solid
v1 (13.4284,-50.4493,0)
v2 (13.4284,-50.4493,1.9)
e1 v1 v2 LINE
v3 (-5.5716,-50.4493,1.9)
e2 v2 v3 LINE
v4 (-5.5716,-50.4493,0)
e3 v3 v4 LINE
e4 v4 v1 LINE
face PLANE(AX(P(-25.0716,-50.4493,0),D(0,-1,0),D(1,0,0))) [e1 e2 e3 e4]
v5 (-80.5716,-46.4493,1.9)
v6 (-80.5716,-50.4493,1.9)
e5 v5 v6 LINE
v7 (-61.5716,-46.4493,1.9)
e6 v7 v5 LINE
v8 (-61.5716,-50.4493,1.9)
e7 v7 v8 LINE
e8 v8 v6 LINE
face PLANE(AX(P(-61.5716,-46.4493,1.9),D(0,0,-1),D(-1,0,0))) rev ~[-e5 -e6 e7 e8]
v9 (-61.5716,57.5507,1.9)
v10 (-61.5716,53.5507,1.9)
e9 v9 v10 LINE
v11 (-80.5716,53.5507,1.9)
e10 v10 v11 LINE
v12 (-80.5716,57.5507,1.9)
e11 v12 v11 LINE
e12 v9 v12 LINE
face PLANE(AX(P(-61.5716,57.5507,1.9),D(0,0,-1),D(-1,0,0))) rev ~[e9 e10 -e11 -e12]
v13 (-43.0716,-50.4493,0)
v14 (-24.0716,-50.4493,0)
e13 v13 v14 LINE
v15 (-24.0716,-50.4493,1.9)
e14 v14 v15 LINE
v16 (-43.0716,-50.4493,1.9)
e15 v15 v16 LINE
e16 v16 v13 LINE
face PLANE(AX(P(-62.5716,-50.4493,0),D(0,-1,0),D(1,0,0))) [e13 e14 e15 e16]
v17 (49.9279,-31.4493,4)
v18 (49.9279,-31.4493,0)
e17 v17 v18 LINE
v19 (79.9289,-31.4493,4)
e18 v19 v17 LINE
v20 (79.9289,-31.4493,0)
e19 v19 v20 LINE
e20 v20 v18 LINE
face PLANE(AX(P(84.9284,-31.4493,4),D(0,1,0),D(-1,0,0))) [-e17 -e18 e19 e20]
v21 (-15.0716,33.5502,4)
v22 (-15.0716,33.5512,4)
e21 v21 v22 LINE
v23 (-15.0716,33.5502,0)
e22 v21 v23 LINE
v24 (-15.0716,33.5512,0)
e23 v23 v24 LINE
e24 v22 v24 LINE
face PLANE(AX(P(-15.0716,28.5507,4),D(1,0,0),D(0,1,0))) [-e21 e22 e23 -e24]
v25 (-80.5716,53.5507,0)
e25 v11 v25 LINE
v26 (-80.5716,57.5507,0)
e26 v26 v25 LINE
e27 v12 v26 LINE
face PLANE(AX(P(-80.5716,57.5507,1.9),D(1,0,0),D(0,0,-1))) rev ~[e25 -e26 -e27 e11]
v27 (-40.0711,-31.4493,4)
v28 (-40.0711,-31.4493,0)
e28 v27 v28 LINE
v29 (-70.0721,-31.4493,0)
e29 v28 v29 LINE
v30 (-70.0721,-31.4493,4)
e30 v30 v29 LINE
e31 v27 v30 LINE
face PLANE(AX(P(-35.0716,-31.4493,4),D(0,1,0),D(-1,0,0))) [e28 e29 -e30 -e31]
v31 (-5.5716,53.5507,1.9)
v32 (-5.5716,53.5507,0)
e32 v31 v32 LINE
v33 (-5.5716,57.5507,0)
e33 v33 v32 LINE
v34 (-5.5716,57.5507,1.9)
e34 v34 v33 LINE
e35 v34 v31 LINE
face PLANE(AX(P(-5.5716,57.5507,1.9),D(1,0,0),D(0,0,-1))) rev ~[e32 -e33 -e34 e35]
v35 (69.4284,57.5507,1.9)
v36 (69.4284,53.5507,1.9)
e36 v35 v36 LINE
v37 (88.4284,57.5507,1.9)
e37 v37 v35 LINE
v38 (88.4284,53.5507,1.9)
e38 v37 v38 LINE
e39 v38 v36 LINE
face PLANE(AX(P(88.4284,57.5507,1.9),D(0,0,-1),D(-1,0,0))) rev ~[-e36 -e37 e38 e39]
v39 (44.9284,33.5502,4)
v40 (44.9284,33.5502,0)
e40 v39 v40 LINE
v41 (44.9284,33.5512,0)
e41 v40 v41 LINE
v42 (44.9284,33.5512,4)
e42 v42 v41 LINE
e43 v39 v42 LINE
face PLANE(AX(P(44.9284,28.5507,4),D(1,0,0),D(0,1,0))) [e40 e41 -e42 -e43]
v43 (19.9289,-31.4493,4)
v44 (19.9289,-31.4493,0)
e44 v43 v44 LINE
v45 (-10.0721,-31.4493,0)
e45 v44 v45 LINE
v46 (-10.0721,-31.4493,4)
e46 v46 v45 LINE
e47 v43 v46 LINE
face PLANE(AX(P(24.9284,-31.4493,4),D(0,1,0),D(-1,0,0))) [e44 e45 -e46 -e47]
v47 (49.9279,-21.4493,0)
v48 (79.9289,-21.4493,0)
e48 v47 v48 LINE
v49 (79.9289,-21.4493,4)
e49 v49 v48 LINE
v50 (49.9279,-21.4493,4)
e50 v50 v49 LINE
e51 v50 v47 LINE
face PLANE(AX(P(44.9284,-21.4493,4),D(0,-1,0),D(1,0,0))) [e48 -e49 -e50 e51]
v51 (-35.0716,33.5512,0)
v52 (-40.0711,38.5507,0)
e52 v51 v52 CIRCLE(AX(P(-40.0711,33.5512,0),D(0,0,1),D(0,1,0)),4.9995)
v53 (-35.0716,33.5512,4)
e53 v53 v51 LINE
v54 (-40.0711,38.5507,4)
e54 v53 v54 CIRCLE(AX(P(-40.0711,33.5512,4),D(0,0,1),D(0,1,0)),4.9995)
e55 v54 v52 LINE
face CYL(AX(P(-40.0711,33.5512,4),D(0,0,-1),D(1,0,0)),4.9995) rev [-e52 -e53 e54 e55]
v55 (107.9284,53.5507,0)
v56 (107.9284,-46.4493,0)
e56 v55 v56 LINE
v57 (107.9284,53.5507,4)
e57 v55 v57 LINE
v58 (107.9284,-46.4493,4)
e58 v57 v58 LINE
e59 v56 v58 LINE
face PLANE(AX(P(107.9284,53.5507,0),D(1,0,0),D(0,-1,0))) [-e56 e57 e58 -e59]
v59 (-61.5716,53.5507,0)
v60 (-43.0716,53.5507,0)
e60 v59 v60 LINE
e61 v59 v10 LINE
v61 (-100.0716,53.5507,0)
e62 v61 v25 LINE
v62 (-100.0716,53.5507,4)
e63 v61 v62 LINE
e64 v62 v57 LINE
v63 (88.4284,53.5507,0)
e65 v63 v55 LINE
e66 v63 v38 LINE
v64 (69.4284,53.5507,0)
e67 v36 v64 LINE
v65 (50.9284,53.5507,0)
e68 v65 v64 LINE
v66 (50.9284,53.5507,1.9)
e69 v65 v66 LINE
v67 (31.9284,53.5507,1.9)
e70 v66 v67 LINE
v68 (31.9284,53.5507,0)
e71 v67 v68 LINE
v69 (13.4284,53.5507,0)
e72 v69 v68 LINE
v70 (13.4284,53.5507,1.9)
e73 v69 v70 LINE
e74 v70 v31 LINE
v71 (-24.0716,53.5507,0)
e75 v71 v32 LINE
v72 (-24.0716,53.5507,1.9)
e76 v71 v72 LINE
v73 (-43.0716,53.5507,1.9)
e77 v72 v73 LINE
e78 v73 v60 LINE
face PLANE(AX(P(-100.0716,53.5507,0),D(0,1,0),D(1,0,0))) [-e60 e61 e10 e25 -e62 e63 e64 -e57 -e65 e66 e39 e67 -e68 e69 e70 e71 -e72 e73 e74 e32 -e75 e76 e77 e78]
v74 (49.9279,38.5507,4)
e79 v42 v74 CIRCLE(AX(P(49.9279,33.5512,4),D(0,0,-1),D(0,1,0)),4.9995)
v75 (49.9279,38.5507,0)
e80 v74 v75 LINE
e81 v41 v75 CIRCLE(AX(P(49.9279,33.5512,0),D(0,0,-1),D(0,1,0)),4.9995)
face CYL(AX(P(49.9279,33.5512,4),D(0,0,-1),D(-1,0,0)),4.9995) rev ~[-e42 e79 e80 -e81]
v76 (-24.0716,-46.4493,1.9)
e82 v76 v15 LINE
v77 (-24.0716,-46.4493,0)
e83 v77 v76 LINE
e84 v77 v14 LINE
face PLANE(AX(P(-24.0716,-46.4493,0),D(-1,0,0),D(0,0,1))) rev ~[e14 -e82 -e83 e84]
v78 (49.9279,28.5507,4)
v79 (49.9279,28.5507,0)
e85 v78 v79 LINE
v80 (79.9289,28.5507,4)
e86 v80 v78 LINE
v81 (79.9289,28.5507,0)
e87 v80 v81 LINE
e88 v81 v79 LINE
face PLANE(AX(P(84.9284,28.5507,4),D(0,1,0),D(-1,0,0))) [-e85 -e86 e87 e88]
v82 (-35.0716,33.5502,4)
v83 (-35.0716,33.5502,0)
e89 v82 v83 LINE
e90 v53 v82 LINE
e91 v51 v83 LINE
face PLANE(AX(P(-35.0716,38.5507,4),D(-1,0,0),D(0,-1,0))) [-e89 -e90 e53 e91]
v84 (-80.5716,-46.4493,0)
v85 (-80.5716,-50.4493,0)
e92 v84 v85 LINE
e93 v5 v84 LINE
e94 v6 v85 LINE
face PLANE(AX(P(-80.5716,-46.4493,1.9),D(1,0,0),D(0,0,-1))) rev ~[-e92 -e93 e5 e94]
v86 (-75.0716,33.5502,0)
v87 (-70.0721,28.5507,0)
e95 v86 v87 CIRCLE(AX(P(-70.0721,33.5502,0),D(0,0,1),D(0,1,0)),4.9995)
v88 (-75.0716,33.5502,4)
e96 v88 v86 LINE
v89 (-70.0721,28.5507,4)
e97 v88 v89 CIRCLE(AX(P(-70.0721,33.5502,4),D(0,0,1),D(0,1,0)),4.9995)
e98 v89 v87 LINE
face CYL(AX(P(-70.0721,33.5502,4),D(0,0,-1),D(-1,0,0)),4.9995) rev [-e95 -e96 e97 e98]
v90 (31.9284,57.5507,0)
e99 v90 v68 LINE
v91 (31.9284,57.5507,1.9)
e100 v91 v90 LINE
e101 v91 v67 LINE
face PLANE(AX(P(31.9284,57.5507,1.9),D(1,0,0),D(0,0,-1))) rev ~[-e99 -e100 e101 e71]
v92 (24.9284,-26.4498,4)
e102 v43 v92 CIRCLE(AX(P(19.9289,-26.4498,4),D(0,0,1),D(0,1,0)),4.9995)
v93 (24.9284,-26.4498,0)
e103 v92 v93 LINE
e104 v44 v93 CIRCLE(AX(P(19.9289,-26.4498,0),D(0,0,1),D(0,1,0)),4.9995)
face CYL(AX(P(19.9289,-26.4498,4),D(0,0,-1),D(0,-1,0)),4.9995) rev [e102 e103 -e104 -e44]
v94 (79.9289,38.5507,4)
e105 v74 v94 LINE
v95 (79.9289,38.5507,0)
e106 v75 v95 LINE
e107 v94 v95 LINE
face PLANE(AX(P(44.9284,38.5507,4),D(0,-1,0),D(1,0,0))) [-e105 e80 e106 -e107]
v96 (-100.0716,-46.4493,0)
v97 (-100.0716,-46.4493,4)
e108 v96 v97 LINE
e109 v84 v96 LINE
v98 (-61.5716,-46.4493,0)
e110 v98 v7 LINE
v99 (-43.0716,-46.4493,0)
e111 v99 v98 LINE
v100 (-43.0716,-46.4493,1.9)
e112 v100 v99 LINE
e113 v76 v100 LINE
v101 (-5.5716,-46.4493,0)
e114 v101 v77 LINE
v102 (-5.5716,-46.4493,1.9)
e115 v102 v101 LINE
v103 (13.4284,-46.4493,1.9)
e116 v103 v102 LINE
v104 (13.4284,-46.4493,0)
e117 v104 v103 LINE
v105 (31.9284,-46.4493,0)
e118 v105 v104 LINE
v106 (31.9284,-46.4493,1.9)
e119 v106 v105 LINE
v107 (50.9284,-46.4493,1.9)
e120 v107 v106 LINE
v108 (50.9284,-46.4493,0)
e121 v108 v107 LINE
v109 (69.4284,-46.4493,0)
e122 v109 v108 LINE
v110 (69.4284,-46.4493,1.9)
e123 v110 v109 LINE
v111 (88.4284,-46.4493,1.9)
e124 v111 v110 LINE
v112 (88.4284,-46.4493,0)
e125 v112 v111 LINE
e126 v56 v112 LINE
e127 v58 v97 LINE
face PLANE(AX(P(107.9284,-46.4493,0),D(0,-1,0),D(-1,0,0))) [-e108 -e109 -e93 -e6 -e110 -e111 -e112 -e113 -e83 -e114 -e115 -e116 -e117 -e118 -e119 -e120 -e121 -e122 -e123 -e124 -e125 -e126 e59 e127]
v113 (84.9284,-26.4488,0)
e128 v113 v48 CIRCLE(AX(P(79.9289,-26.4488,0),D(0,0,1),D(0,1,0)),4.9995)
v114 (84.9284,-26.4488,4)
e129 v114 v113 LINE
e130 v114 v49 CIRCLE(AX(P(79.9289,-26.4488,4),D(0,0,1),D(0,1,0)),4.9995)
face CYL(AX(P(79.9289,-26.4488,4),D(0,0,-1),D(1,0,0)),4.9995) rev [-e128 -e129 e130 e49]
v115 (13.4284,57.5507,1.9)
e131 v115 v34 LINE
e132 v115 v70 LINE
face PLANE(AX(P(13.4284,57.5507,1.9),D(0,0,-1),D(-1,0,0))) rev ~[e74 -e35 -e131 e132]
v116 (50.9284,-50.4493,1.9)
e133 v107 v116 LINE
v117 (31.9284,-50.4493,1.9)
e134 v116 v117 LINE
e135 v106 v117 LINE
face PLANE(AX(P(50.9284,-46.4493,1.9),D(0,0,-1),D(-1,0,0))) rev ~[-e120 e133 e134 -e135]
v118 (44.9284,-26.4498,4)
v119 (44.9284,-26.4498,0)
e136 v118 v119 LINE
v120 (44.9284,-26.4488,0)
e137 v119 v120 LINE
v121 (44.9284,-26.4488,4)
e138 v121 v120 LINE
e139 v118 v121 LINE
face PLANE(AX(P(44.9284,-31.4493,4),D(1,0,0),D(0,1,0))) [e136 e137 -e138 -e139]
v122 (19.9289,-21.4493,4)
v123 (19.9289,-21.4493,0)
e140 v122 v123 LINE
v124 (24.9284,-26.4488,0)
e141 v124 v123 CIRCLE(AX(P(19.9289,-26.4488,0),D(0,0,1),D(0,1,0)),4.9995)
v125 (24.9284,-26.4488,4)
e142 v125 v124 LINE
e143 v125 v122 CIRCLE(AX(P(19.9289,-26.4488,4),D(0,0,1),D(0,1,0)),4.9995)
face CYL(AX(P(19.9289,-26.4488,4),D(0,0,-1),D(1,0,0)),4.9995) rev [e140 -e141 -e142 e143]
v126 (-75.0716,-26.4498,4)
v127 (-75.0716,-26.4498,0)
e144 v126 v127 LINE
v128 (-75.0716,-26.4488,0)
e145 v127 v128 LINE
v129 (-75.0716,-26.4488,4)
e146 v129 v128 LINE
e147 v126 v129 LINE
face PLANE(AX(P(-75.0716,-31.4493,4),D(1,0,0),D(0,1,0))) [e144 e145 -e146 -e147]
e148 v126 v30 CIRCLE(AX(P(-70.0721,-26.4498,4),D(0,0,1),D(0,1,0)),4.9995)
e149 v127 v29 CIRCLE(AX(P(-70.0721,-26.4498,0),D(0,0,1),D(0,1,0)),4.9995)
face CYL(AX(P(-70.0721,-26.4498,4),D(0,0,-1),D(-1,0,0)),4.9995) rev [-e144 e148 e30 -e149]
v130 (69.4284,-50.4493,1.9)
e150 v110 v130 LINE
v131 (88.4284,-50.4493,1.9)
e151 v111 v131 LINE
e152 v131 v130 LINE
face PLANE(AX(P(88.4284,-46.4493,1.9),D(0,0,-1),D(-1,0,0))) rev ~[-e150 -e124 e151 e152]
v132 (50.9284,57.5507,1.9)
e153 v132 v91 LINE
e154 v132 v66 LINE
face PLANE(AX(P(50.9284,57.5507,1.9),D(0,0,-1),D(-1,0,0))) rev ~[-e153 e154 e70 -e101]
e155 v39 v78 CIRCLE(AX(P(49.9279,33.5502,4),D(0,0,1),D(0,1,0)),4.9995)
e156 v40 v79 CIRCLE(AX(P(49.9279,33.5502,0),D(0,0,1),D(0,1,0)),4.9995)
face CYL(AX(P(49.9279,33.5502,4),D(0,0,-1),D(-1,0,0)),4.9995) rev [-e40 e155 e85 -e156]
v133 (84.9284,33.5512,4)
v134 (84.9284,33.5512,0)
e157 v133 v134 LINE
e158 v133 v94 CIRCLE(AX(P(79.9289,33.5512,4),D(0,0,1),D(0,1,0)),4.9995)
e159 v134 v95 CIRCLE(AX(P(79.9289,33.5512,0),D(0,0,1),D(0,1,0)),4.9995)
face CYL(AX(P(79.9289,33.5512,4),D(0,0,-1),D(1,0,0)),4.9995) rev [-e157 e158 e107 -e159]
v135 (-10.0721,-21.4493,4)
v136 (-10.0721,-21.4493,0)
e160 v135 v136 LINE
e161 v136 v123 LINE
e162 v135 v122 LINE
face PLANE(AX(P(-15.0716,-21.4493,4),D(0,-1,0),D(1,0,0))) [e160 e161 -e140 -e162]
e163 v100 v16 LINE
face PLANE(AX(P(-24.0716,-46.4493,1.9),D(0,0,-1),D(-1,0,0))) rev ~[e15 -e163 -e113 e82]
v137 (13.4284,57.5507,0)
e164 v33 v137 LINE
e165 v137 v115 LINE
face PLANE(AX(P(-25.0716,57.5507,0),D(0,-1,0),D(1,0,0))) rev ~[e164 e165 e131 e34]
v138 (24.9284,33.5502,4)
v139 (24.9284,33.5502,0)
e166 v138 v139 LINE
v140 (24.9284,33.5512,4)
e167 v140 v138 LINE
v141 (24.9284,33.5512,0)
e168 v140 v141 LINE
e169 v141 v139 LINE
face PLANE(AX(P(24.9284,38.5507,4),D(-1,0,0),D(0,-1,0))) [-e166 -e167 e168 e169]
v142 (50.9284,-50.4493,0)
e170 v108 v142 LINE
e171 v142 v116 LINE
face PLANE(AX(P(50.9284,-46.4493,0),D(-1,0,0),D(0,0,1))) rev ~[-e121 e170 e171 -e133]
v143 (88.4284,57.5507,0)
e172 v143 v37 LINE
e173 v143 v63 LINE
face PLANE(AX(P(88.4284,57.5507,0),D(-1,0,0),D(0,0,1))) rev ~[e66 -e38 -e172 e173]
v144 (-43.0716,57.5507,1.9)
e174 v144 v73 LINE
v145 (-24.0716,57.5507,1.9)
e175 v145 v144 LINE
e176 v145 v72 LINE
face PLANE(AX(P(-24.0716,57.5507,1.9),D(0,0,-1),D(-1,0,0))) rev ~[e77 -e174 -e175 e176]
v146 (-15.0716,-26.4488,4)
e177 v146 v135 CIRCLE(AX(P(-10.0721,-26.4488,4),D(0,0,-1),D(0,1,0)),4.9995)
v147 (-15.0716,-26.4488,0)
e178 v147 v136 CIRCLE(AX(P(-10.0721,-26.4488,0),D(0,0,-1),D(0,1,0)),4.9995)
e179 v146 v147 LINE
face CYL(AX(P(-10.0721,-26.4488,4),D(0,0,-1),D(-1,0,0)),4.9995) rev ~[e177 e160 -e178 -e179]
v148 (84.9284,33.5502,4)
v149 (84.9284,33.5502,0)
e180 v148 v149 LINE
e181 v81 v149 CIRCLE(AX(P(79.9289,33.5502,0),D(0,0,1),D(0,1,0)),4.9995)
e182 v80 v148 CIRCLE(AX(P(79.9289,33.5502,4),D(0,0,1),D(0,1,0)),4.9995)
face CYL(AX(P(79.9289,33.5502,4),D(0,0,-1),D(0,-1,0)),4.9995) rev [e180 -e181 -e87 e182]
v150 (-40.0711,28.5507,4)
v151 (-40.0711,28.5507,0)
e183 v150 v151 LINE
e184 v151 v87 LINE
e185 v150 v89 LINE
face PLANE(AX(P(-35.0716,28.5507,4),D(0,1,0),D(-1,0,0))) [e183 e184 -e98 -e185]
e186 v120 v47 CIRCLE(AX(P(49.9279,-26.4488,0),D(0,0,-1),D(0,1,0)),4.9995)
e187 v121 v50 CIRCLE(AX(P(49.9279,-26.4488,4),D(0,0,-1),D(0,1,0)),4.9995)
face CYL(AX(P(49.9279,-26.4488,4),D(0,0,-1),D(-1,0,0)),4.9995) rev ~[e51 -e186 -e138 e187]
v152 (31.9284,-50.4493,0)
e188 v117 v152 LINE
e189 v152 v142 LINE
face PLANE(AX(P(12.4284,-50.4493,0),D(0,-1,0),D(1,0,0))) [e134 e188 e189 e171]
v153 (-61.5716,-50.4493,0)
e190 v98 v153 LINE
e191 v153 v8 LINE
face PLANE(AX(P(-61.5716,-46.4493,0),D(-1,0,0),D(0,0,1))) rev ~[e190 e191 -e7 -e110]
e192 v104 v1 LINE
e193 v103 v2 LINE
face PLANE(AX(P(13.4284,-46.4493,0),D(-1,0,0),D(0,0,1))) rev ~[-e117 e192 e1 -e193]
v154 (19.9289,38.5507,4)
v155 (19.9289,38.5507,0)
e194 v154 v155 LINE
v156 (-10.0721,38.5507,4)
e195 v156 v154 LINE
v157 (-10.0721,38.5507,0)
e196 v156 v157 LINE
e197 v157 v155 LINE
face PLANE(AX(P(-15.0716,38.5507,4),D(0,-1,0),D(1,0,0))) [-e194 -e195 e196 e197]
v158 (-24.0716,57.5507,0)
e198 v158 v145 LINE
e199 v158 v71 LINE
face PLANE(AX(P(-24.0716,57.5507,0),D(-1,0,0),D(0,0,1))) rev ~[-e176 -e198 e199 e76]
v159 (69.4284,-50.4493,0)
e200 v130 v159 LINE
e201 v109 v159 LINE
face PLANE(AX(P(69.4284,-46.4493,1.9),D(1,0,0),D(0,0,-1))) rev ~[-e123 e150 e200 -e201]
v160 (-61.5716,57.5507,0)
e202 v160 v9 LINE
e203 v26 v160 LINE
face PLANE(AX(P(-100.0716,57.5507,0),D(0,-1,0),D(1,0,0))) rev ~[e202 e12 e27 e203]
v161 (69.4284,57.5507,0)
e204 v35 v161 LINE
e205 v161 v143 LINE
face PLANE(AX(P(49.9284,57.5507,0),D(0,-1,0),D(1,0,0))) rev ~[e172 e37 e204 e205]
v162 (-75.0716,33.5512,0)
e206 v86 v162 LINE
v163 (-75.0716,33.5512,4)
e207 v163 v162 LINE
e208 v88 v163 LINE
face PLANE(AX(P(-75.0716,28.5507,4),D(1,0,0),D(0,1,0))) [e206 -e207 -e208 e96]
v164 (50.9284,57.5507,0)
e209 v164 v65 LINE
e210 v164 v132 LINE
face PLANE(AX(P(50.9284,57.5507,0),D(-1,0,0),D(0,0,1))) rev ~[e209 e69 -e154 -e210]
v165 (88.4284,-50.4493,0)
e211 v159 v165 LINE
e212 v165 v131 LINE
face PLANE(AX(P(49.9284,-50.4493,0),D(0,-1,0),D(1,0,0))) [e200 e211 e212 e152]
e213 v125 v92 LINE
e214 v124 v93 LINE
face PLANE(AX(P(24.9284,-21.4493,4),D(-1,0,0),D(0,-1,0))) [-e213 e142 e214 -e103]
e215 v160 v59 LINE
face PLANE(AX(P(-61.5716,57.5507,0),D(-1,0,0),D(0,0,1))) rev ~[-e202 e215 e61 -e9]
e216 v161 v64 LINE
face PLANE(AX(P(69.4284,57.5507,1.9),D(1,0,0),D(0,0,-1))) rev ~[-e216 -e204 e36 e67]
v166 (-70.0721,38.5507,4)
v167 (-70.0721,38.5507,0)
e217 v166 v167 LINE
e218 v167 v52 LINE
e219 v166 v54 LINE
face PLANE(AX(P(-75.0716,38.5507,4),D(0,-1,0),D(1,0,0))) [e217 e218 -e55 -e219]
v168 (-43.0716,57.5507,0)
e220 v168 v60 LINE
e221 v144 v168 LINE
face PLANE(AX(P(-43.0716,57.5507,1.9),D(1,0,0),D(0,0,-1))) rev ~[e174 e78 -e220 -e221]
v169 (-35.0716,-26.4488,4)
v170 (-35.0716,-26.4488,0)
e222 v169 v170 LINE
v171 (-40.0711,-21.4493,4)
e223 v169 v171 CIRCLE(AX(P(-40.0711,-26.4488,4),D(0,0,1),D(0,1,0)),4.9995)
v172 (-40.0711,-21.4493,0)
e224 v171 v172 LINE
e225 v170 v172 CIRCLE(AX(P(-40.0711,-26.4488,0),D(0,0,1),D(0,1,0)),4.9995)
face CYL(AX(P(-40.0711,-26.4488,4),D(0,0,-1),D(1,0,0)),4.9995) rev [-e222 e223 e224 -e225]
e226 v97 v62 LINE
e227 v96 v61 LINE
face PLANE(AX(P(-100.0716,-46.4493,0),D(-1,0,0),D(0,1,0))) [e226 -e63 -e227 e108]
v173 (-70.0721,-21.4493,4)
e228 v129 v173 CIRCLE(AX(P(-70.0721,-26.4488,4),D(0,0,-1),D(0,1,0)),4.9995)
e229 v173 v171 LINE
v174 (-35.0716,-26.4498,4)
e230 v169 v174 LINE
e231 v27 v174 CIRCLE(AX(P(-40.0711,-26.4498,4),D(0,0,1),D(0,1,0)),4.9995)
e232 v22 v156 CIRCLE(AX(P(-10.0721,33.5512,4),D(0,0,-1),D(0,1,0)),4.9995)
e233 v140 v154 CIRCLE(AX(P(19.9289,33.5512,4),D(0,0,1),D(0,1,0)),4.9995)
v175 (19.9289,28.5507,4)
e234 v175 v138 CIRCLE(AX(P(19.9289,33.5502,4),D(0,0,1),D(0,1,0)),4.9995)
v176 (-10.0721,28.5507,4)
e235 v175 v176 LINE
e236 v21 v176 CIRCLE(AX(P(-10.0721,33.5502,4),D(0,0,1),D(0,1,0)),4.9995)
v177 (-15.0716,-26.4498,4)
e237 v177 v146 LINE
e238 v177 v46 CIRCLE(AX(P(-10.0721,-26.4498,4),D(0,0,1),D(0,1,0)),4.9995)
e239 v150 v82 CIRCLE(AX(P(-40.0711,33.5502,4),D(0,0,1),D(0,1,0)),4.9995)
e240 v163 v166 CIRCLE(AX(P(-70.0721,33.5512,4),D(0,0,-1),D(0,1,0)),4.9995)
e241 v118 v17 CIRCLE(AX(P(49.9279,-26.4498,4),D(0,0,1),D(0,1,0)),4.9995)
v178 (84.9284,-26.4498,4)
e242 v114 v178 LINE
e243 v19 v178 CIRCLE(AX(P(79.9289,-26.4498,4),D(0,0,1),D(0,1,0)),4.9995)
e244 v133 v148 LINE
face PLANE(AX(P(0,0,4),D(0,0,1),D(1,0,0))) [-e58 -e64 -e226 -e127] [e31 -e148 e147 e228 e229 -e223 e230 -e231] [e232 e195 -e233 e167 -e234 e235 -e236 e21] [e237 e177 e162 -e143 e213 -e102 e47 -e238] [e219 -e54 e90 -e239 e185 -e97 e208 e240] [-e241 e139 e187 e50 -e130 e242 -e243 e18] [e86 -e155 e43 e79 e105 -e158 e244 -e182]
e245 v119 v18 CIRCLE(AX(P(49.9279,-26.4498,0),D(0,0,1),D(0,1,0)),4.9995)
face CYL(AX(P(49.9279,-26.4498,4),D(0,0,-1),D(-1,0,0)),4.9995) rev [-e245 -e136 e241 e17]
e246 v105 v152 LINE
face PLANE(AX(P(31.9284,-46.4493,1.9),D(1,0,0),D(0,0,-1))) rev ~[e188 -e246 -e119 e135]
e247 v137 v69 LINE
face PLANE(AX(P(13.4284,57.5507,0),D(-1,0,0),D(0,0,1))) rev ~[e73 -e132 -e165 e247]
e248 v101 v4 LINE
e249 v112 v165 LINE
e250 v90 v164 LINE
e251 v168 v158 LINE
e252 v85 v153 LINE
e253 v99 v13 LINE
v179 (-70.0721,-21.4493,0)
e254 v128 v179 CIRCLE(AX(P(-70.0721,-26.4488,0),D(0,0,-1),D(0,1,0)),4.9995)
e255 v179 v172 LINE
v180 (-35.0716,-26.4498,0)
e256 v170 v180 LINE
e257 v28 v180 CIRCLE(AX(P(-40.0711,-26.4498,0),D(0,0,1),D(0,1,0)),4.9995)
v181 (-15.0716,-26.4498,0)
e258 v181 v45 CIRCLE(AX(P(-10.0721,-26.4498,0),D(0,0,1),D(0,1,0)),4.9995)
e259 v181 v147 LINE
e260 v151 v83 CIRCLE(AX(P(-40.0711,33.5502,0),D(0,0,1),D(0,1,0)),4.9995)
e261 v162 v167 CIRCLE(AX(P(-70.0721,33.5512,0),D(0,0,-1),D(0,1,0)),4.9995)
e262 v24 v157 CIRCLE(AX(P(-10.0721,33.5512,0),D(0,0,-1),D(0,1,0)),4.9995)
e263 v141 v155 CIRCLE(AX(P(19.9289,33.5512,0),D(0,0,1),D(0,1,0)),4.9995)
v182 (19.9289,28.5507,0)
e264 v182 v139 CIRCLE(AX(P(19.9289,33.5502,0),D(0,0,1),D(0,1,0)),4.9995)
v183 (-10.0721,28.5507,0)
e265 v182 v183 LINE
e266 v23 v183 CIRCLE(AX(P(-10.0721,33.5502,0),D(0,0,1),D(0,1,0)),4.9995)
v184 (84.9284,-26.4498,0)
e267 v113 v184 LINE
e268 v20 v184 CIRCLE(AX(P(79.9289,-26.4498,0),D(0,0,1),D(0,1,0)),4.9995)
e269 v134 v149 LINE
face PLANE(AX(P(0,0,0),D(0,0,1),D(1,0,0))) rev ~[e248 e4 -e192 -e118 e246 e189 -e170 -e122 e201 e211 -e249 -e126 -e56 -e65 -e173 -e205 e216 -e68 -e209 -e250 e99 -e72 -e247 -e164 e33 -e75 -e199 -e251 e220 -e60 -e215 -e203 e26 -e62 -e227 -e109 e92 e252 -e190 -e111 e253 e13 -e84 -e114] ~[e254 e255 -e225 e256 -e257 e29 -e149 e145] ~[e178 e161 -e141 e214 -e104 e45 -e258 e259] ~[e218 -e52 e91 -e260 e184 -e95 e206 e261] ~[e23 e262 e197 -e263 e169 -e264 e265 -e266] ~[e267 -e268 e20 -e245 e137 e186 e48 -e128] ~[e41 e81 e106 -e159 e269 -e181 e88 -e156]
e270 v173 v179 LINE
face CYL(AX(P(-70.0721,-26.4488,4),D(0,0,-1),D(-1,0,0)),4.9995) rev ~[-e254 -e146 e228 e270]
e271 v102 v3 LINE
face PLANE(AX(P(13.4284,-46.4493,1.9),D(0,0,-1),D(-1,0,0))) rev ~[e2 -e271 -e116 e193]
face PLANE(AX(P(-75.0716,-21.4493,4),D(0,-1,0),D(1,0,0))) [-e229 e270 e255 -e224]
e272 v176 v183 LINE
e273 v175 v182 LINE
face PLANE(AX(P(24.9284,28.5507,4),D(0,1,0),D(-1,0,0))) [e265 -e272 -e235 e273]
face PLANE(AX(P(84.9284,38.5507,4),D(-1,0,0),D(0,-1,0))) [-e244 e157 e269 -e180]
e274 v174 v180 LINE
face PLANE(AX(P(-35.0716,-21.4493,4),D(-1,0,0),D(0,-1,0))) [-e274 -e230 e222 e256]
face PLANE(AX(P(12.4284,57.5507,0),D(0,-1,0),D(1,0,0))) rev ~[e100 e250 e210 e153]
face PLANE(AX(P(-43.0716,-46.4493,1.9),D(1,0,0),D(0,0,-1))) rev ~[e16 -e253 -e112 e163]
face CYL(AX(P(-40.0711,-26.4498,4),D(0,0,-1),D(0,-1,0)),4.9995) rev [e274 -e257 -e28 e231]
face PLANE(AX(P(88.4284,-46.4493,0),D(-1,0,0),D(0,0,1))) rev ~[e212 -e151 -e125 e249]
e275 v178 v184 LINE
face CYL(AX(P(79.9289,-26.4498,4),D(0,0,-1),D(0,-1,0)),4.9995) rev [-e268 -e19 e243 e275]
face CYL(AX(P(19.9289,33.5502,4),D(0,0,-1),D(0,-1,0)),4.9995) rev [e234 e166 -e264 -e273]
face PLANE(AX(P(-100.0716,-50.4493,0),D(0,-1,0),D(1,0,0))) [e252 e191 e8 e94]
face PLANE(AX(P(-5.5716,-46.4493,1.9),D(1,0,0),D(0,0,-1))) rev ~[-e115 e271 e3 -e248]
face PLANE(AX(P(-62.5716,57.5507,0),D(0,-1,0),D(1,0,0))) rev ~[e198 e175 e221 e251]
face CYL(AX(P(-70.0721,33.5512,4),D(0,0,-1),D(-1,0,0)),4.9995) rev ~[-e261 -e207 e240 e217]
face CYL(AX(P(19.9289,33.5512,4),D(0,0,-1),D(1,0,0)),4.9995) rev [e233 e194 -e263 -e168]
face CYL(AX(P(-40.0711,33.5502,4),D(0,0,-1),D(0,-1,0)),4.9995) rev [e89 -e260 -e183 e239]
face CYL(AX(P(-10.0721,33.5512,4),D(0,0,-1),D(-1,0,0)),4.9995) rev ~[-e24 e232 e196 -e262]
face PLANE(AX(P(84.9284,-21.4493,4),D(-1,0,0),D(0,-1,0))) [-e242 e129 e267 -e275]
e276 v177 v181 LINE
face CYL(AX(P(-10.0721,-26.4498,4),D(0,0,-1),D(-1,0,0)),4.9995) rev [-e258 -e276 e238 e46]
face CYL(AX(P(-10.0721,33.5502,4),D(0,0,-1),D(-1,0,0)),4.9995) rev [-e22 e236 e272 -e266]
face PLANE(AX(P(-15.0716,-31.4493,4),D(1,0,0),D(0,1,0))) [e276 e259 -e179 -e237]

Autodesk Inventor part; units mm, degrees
ref_plane "YZ Plane" through (0, 0, 0) normal (1, 0, 0) x (0, 1, 0)
ref_plane "XZ Plane" through (0, 0, 0) normal (0, 1, 0) x (-1, 0, 0)
ref_plane "XY Plane" through (0, 0, 0) normal (0, 0, 1) x (1, 0, 0)
sketch "Sketch1" plane through (0, 0, 0) normal (0, 0, 1) x (1, 0, 0)
  line L0 (-100.0716, 53.5507) -> (107.9284, 53.5507)
  line L1 (107.9284, 53.5507) -> (107.9284, -46.4493)
  line L2 (107.9284, -46.4493) -> (-100.0716, -46.4493)
  line L3 (-100.0716, -46.4493) -> (-100.0716, 53.5507)
  point P0 (0, 0)
  dimension "d0" = 208
  dimension "d1" = 100
extrude "Extrusion1" add sketch "Sketch1" along normal blind 4
sketch "Sketch2" plane through (-100.0716, -46.4493, 0) normal (0, -1, 0) x (1, 0, 0)
  line L0 (0, 0) -> (208, 0) projected
  line L1 (19.5, 0) -> (38.5, 0)
  line L2 (38.5, 0) -> (38.5, 1.9)
  line L3 (38.5, 1.9) -> (19.5, 1.9)
  line L4 (19.5, 1.9) -> (19.5, 0)
  line L5 (0, 0) -> (0, 4) projected
  point P0 (100.0716, 0)
  point P1 (19.5, 0.95)
  dimension "d4" = 19
  dimension "d5" = 1.9
  dimension "d6" = 19.5
extrude "Extrusion2" add sketch "Sketch2" along normal blind 4
pattern_linear "Rectangular Pattern1" count 5 spacing 37.5 along (1, 0, 0) count 2 spacing 104 along (0, 1, 0) of "Extrusion2"
sketch "Sketch3" plane through (0, 0, 4) normal (0, 0, 1) x (1, 0, 0)
  line L0 (89.7284, -20.8493) -> (97.9284, -20.8493)
  line L1 (97.9284, -20.8493) -> (97.9284, -36.4493)
  line L2 (97.9284, -36.4493) -> (89.7284, -36.4493)
  line L3 (89.7284, -36.4493) -> (89.7284, -20.8493)
  line L4 (107.9284, 53.5507) -> (-100.0716, 53.5507) projected
  line L5 (-100.0716, 53.5507) -> (-100.0716, -46.4493) projected
  line L6 (107.9284, -46.4493) -> (107.9284, 53.5507) projected
  line L7 (-100.0716, -46.4493) -> (107.9284, -46.4493) projected
  point P0 (0, 0)
  dimension "d15" = 8.2
  dimension "d16" = 15.6
  dimension "d21" = 10
  dimension "d22" = 10
extrude "Extrusion3" [suppressed]
sketch "Sketch4" plane through (0, 0, 4) normal (0, 0, 1) x (1, 0, 0)
  line L0 (-75.0716, 38.5507) -> (-35.0716, 38.5507)
  line L1 (-35.0716, 38.5507) -> (-35.0716, 28.5507)
  line L2 (-35.0716, 28.5507) -> (-75.0716, 28.5507)
  line L3 (-75.0716, 28.5507) -> (-75.0716, 38.5507)
  line L4 (-15.0716, 38.5507) -> (24.9284, 38.5507)
  line L5 (24.9284, 38.5507) -> (24.9284, 28.5507)
  line L6 (24.9284, 28.5507) -> (-15.0716, 28.5507)
  line L7 (-15.0716, 28.5507) -> (-15.0716, 38.5507)
  line L8 (44.9284, 38.5507) -> (84.9284, 38.5507)
  line L9 (84.9284, 38.5507) -> (84.9284, 28.5507)
  line L10 (84.9284, 28.5507) -> (44.9284, 28.5507)
  line L11 (44.9284, 28.5507) -> (44.9284, 38.5507)
  line L12 (-100.0716, 53.5507) -> (-100.0716, -46.4493) projected
  line L13 (107.9284, 53.5507) -> (-100.0716, 53.5507) projected
  point P0 (0, 0)
  point P1 (-75.0716, 33.5507)
  point P2 (-15.0716, 33.5507)
  point P3 (-35.0716, 33.5507)
  point P4 (44.9284, 33.5507)
  point P5 (24.9284, 33.5507)
  dimension "d23" = 40
  dimension "d24" = 10
  dimension "d25" = 40
  dimension "d26" = 10
  dimension "d27" = 40
  dimension "d28" = 10
  dimension "d29" = 25
  dimension "d30" = 20
  dimension "d31" = 20
  dimension "d35" = 15
extrude "Extrusion4" cut sketch "Sketch4" against normal blind 10
fillet "Fillet1" radius 5 12 edges at (-75.0716, 38.5507, 2) (-75.0716, 28.5507, 2) (-35.0716, 28.5507, 2) (-35.0716, 38.5507, 2) (-15.0716, 38.5507, 2) (-15.0716, 28.5507, 2) (24.9284, 38.5507, 2) (24.9284, 28.5507, 2) (44.9284, 38.5507, 2) (44.9284, 28.5507, 2) (84.9284, 38.5507, 2) (84.9284, 28.5507, 2)
pattern_linear "Rectangular Pattern2" count 2 spacing 60 along (0, -1, 0) of "Extrusion4", "Fillet1"
properties part number "Enclosure_2"
